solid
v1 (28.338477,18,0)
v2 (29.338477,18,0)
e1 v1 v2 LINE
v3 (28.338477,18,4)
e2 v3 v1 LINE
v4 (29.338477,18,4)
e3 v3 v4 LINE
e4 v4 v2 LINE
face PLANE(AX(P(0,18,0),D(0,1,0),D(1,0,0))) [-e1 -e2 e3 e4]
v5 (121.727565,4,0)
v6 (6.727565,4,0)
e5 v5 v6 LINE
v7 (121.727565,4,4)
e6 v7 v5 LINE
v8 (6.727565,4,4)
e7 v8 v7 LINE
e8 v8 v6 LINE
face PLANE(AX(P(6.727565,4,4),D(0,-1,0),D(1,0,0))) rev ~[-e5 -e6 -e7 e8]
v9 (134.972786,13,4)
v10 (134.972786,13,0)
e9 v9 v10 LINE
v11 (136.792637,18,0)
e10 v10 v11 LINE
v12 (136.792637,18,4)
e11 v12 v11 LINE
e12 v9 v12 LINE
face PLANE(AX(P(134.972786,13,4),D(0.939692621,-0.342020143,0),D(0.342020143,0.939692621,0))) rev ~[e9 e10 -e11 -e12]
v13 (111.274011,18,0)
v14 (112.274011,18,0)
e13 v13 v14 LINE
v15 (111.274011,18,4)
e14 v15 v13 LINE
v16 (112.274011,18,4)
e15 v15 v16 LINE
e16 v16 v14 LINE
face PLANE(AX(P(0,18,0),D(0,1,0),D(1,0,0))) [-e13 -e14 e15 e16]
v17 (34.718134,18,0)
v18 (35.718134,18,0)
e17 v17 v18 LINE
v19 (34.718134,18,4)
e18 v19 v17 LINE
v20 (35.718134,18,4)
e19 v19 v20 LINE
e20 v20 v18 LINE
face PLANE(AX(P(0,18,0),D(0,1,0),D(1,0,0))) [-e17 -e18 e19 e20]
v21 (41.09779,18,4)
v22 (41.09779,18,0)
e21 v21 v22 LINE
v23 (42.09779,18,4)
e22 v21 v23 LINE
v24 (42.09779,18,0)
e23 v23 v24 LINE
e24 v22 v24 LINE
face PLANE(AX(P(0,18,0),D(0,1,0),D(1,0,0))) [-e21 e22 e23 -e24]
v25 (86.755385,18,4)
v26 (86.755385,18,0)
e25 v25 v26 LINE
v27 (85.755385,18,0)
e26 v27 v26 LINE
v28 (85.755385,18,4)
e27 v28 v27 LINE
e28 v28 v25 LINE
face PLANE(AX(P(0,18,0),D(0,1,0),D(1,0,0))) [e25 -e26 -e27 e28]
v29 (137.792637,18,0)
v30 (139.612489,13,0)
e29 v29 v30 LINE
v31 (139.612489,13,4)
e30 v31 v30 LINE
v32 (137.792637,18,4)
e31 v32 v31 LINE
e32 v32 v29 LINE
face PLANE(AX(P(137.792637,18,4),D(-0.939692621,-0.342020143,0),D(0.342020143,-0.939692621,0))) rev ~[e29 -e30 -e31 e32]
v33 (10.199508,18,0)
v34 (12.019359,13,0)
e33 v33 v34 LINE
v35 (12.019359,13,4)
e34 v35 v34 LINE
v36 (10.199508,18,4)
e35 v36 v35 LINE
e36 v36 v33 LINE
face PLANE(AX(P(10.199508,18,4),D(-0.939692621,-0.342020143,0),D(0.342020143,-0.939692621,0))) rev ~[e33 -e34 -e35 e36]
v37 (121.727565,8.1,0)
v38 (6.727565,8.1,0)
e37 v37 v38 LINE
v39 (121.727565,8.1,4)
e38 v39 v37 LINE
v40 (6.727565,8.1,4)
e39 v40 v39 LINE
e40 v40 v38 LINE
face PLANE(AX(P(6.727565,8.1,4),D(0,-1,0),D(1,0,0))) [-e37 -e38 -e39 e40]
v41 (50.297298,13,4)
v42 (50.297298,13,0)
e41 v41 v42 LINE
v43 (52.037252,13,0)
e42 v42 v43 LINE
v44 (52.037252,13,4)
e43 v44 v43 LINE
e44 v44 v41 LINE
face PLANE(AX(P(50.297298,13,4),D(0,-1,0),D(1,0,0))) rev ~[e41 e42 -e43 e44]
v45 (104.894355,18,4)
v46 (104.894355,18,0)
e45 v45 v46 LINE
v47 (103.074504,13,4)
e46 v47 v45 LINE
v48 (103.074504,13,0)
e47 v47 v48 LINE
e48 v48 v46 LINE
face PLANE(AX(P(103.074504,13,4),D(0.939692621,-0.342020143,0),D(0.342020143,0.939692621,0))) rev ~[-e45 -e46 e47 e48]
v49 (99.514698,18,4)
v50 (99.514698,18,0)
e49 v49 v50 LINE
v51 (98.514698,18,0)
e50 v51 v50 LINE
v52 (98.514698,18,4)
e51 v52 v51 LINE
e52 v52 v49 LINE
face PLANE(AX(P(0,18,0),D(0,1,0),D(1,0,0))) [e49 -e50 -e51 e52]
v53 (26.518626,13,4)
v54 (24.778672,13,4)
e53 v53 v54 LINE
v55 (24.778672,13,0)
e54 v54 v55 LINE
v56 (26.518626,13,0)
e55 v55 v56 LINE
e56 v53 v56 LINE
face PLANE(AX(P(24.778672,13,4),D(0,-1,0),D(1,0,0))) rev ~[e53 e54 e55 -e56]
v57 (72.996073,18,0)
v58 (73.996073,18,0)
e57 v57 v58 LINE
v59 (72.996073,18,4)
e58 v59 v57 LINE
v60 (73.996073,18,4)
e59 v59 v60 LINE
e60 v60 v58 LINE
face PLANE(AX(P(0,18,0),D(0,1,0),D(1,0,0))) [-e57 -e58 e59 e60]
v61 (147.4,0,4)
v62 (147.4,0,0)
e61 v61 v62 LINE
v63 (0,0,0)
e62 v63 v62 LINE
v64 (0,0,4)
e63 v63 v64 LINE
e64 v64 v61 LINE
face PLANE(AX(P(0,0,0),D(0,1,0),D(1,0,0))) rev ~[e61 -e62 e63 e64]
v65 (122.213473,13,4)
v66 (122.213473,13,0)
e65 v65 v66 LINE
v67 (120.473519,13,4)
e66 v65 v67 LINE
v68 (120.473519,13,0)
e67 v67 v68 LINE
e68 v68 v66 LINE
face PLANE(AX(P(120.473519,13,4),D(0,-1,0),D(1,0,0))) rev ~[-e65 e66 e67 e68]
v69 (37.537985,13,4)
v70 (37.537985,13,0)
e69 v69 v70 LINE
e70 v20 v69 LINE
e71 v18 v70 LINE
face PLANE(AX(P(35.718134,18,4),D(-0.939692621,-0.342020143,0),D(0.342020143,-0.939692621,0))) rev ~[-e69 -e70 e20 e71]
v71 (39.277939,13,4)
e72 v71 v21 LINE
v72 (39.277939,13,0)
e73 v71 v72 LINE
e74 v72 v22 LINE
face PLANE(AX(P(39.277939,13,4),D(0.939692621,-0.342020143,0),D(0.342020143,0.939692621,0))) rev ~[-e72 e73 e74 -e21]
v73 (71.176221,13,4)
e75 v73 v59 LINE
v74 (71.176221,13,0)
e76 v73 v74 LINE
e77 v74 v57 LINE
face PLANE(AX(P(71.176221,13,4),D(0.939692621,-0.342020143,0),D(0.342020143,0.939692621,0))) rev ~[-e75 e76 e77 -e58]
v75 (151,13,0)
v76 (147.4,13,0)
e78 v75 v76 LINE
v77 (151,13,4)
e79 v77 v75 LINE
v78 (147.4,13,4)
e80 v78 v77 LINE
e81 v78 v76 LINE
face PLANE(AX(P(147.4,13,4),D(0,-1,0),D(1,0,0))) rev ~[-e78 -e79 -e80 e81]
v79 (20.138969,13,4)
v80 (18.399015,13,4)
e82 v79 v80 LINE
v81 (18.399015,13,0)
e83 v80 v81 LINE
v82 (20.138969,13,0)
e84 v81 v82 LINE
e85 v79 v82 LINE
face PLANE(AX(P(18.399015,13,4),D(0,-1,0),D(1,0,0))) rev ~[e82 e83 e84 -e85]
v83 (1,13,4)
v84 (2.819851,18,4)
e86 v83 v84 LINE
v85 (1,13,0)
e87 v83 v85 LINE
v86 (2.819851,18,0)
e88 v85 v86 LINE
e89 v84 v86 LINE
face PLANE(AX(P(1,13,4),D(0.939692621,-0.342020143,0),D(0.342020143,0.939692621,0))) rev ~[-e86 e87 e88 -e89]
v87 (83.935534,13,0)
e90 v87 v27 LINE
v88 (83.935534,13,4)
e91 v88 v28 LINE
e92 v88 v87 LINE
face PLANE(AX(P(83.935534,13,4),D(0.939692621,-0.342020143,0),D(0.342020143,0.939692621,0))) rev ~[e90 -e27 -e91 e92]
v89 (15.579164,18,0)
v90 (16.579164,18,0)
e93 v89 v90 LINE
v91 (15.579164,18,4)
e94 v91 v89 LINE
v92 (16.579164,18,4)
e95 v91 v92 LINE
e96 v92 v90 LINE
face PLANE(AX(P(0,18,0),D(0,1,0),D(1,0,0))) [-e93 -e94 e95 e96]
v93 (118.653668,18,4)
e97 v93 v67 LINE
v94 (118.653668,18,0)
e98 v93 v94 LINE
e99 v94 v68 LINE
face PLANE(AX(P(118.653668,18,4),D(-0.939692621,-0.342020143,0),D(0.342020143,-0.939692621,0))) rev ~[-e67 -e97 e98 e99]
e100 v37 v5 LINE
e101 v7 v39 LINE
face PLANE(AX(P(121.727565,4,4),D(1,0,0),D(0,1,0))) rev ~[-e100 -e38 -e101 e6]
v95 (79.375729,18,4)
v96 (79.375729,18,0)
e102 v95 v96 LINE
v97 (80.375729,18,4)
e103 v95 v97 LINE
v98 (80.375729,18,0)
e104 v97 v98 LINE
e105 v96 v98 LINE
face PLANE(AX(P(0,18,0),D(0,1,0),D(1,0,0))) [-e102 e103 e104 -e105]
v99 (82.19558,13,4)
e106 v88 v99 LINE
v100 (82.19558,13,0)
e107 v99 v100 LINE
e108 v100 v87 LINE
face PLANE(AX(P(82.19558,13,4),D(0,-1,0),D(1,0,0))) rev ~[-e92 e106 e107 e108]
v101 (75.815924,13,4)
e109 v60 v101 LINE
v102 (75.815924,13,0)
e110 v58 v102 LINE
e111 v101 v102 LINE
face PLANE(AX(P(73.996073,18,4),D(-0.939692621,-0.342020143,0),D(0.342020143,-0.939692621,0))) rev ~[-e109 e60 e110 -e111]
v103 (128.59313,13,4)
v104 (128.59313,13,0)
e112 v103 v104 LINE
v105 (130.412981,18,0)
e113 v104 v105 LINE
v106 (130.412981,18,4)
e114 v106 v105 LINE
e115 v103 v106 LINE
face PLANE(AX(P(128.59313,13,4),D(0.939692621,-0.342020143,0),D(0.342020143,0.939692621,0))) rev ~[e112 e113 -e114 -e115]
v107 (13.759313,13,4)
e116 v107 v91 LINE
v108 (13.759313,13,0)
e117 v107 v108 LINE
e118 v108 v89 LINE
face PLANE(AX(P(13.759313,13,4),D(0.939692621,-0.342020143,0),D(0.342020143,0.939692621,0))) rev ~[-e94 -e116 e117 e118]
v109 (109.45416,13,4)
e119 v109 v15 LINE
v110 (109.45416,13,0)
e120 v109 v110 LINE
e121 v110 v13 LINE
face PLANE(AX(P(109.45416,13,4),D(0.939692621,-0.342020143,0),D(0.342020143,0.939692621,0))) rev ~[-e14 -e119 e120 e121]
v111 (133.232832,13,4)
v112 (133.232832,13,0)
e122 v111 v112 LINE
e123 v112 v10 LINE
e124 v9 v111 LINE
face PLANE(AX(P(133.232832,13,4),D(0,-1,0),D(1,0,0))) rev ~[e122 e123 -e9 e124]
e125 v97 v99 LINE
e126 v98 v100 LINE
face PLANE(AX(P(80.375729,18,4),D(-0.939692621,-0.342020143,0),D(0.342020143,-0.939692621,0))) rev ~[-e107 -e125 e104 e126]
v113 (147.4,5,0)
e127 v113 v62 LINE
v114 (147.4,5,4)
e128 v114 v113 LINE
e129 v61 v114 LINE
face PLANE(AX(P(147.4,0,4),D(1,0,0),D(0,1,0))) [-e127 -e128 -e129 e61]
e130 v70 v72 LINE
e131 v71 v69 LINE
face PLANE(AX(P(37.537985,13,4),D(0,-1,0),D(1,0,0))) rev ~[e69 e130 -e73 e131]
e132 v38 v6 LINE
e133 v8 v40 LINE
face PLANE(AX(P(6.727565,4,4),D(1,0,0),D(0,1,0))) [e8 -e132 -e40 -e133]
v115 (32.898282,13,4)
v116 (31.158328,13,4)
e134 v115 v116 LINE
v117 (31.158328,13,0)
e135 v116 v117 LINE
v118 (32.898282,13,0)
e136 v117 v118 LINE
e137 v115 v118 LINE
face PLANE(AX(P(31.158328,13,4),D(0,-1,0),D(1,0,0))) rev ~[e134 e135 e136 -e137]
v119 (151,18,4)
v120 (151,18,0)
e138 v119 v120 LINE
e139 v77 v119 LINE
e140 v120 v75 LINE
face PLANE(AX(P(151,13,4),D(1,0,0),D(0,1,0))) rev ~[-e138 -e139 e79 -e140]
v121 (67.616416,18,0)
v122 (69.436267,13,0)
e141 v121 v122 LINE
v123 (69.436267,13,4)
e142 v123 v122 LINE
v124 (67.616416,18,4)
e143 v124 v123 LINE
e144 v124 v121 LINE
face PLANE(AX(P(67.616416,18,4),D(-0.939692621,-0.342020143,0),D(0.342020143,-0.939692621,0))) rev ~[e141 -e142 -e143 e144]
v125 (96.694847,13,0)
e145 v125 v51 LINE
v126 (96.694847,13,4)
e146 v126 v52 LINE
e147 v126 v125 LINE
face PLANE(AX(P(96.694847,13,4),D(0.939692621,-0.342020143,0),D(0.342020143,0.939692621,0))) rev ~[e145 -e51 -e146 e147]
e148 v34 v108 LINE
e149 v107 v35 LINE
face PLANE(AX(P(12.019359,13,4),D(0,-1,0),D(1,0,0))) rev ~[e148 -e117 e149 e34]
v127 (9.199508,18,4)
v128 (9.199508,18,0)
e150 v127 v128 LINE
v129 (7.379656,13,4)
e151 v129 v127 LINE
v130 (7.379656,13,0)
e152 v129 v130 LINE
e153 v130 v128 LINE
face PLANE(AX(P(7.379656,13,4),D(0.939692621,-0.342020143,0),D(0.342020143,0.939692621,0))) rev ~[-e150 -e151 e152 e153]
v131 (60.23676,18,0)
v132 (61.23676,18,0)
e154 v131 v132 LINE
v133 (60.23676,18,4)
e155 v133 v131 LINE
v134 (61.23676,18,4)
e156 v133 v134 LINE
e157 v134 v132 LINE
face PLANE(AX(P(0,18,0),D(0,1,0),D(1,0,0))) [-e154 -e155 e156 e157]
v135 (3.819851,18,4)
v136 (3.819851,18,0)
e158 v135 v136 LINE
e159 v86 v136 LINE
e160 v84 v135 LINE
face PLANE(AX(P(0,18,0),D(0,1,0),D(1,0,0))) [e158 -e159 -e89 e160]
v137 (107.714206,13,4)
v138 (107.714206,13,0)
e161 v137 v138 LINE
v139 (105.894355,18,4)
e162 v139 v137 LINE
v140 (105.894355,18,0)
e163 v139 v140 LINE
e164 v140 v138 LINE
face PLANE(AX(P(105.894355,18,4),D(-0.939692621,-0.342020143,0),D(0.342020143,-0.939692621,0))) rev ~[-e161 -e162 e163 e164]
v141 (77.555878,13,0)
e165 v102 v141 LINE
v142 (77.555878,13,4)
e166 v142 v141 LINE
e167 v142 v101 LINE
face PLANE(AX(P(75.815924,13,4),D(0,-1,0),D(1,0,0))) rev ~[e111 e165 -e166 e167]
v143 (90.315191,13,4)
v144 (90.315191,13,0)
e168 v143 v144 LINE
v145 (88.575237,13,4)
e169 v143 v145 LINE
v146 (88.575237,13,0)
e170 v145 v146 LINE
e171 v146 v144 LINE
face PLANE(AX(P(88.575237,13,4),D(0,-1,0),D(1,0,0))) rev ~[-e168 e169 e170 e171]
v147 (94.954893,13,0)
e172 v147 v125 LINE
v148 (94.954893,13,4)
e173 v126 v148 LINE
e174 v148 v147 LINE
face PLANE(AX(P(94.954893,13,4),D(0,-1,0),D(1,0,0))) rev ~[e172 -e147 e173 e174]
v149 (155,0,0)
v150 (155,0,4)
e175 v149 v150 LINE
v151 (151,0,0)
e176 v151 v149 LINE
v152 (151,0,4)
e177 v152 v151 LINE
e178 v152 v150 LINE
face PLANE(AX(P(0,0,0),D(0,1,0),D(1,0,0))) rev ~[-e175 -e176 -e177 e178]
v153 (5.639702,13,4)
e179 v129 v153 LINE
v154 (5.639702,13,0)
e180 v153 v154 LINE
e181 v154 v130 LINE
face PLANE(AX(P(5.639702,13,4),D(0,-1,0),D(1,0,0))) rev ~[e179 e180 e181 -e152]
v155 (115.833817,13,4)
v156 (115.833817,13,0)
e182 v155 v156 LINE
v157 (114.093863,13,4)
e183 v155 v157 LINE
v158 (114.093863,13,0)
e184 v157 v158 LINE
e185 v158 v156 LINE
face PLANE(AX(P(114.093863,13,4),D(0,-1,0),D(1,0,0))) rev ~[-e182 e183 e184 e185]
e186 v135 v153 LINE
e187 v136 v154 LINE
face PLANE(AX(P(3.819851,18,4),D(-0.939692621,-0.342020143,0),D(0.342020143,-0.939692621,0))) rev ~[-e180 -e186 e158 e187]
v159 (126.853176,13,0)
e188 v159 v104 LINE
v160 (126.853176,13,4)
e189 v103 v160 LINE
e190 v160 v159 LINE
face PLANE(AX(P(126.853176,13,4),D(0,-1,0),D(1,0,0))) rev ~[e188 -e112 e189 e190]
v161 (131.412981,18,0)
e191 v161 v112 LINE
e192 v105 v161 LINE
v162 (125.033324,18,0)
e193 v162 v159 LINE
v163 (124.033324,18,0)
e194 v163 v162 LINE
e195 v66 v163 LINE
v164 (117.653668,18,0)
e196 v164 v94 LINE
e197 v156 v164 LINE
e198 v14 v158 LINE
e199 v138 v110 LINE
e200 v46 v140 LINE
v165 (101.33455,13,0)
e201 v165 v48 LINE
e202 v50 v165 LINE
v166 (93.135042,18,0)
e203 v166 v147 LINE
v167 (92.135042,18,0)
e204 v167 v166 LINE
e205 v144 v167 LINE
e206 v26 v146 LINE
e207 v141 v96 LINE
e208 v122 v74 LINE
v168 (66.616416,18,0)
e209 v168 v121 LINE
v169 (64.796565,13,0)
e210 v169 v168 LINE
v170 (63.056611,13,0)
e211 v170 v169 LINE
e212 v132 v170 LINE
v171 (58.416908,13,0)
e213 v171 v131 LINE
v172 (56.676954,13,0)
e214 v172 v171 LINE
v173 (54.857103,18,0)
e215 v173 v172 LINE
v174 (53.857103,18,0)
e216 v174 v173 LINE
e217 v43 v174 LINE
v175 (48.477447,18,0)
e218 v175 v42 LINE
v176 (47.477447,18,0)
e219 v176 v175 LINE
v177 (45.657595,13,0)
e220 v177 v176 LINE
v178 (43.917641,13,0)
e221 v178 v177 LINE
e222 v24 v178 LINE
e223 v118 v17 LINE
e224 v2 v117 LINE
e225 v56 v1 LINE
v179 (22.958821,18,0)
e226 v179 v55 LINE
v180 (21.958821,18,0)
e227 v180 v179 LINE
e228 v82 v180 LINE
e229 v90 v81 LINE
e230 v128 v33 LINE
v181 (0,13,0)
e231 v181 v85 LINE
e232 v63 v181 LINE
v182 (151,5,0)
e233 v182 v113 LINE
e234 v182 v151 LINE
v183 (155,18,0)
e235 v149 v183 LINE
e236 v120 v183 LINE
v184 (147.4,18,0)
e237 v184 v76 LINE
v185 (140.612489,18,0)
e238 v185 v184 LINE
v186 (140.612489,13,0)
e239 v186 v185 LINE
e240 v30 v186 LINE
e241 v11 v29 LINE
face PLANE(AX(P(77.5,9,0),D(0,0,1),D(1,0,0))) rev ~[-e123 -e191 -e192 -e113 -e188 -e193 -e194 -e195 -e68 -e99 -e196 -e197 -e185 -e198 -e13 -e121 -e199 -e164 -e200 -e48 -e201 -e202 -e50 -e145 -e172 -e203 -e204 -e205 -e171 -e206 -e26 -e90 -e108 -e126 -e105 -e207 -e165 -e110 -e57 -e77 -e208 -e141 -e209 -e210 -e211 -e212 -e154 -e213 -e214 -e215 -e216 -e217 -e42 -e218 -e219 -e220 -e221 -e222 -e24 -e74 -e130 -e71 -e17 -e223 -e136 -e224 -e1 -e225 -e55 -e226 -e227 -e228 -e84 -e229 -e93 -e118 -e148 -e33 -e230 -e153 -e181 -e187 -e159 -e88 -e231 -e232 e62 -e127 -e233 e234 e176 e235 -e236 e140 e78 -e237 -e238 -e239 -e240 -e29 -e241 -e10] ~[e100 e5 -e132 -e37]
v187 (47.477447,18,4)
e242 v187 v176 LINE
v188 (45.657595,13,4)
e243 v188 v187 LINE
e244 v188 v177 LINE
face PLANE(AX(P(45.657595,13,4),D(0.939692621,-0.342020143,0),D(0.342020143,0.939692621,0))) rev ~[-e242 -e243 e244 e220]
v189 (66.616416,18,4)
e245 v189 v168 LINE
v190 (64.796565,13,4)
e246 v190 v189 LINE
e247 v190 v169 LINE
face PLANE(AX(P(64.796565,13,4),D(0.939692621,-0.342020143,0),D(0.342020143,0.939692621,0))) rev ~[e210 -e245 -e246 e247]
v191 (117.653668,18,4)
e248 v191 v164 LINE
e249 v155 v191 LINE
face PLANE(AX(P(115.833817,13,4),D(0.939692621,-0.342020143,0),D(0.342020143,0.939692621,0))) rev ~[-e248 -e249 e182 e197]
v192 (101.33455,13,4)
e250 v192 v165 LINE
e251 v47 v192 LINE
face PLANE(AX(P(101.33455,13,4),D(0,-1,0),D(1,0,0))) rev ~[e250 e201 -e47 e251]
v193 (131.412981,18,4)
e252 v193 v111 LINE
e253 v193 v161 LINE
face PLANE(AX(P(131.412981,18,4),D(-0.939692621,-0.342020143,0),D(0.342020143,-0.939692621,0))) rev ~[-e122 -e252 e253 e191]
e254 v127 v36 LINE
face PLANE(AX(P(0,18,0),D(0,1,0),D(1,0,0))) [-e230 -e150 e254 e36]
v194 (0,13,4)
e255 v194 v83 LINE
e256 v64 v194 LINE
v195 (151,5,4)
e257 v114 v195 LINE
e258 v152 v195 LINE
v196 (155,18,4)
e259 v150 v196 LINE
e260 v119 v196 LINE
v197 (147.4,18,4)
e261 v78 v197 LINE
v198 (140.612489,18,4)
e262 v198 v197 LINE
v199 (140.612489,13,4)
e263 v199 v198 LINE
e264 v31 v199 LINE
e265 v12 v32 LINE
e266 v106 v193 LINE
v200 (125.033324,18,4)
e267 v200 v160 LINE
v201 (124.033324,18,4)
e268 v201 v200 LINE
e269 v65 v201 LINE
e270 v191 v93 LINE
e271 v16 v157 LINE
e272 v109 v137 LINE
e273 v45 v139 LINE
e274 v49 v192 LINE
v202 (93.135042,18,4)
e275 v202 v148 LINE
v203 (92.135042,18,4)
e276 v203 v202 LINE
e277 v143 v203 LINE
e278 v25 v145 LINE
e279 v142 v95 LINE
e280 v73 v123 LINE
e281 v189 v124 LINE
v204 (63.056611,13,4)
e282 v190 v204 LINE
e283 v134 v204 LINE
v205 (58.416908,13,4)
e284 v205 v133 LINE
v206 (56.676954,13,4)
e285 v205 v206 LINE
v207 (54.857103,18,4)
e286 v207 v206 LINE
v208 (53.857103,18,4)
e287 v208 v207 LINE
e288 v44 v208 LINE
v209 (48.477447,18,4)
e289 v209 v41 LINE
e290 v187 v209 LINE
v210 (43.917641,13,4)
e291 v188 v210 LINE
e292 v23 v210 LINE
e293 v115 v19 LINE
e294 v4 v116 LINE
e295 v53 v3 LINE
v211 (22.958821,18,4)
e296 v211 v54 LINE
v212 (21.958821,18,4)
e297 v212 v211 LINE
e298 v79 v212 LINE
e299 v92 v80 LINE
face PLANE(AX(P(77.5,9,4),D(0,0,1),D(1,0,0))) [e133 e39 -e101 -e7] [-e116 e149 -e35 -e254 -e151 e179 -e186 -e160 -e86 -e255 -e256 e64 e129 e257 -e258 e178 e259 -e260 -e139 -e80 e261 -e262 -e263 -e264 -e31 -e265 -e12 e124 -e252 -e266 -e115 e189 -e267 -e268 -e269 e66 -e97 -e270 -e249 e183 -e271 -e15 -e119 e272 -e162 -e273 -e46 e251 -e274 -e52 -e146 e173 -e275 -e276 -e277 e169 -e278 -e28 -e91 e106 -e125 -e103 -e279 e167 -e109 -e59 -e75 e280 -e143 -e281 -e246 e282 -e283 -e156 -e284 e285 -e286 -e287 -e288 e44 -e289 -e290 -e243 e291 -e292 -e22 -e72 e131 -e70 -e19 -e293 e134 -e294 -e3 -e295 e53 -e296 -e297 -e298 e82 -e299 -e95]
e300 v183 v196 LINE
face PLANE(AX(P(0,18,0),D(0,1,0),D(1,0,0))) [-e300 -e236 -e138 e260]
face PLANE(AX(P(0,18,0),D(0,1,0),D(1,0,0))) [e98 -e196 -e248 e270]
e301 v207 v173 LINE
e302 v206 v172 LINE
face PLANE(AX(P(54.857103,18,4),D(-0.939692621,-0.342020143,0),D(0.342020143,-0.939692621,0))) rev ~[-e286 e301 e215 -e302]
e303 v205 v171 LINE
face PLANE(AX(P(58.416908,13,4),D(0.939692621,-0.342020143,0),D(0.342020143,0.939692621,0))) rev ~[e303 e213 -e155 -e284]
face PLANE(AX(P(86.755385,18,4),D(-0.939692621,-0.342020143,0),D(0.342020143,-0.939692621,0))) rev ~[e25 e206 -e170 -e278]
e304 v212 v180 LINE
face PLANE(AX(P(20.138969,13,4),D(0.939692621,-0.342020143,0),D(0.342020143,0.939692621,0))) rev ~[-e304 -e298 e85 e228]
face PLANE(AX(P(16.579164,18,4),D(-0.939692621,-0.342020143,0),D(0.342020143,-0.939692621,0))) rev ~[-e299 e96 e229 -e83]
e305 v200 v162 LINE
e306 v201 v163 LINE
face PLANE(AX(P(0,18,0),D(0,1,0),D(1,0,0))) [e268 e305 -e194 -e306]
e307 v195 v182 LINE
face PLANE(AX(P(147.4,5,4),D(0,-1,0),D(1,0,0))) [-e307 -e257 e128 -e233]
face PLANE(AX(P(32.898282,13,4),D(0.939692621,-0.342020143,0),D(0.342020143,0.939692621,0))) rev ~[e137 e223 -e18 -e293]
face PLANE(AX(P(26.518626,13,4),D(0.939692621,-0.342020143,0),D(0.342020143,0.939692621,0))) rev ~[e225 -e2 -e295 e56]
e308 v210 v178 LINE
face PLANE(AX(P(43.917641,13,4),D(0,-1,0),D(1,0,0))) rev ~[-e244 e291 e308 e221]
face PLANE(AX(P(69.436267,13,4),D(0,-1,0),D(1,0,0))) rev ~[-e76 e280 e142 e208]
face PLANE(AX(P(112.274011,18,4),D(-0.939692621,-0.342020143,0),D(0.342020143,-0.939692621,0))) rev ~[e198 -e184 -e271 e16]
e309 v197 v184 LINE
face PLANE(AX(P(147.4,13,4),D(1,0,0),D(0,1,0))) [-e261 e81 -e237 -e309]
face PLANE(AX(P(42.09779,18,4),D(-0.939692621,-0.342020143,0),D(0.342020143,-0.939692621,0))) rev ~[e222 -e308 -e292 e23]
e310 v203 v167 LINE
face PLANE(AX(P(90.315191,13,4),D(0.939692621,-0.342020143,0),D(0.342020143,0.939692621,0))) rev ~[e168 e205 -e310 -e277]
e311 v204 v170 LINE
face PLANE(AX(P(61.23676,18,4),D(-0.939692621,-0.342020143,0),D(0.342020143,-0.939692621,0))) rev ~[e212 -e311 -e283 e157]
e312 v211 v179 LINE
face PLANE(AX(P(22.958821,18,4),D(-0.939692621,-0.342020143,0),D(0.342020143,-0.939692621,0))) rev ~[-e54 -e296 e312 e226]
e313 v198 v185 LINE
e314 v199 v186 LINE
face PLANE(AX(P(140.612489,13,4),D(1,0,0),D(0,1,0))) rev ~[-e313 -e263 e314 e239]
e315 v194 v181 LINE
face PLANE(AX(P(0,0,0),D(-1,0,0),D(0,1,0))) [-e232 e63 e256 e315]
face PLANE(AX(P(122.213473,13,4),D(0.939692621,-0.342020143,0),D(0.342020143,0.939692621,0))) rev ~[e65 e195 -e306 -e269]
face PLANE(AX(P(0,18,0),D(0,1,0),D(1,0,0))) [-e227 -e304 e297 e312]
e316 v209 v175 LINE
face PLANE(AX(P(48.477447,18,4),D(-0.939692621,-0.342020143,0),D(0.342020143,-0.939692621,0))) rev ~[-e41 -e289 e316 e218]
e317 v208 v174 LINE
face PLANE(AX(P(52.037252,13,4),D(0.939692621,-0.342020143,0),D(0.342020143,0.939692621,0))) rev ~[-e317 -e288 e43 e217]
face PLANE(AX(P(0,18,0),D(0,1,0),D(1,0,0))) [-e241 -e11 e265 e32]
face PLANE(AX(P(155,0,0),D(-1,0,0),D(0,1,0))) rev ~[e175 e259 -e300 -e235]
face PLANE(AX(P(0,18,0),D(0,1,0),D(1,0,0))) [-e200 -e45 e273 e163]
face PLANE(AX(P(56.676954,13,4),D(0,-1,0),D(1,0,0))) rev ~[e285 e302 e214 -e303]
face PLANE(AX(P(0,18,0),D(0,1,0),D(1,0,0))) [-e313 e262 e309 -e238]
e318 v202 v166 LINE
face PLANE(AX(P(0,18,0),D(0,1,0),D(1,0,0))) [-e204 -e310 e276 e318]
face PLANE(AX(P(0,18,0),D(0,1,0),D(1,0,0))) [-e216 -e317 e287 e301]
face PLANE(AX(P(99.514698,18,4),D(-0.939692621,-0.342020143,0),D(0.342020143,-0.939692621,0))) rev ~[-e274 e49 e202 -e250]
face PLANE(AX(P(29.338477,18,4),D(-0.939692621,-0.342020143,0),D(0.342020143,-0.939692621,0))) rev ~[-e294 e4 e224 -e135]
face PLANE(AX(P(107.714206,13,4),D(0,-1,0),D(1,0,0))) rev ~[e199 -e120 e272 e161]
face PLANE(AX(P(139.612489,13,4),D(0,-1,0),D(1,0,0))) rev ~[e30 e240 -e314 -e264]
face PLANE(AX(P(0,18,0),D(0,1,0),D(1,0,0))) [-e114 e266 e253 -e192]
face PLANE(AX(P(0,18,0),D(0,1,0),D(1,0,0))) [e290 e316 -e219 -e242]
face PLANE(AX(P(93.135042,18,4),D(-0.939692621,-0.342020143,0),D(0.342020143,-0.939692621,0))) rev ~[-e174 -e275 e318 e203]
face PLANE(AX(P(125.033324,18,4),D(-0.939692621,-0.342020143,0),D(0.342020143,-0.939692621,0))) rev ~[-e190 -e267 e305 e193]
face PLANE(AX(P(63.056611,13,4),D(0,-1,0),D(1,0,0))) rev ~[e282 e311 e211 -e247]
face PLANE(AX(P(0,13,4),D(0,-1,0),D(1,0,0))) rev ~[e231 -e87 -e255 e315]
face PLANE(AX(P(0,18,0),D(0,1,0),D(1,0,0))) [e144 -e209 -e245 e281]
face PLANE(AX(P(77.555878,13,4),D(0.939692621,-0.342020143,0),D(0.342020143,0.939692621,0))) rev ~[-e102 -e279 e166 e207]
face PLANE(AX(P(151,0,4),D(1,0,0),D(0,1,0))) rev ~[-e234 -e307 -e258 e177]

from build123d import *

# Parameters (mm, degrees)
SKIZZE1_W                       = 155
SKIZZE1_H                       = 18
AUFSATZ_LINEAR_AUSTRAGEN1_DEPTH = 4
SCHNITT_LINEAR_AUSTRAGEN1_DEPTH = 4
LINEARES_MUSTER1_COUNT          = 22
LINEARES_MUSTER1_PITCH          = 6.379656485
SCHNITT_LINEAR_AUSTRAGEN2_REACH = 6
SKIZZE3_W                       = 115
SKIZZE3_H                       = 4.1
SCHNITT_LINEAR_AUSTRAGEN3_REACH = 6
SKIZZE4_W                       = 3.6
SKIZZE4_H                       = 5


with BuildPart() as part:
    # Skizze1 → Aufsatz-Linear austragen1 (new body)
    with BuildSketch(Plane.XY):
        with Locations((77.5, 9)):
            Rectangle(SKIZZE1_W, SKIZZE1_H)
    extrude(amount=AUFSATZ_LINEAR_AUSTRAGEN1_DEPTH)

    # Skizze2 → Schnitt-Linear austragen1 (cut)
    with BuildSketch(Plane.XY.offset(4)):
        Polygon((0, 13), (1, 13), (2.819851171, 18), (0, 18), align=None)
        Polygon((3.819851171, 18), (5.639702343, 13), (6.639702343, 13), (6.639702343, 18), align=None)
    schnitt_linear_austragen1 = extrude(amount=-SCHNITT_LINEAR_AUSTRAGEN1_DEPTH, mode=Mode.SUBTRACT)

    # Lineares Muster1: Schnitt-Linear austragen1 ×22
    with Locations(*[(i * LINEARES_MUSTER1_PITCH, 0, 0) for i in range(1, LINEARES_MUSTER1_COUNT)]):
        add(schnitt_linear_austragen1, mode=Mode.SUBTRACT)

    # Skizze3 → Schnitt-Linear austragen2 (cut, up to next)
    with BuildSketch(Plane.XY.offset(4), mode=Mode.PRIVATE) as schnitt_linear_austragen2_sk1:
        with Locations((64.227564671, 6.05)):
            Rectangle(SKIZZE3_W, SKIZZE3_H)
    schnitt_linear_austragen2_tool1 = extrude(schnitt_linear_austragen2_sk1.sketch, amount=-SCHNITT_LINEAR_AUSTRAGEN2_REACH, mode=Mode.PRIVATE) & part.part
    add(schnitt_linear_austragen2_tool1.solids().sort_by_distance((64.227565, 6.05, 4))[0], mode=Mode.SUBTRACT)

    # Skizze4 → Schnitt-Linear austragen3 (cut, up to next)
    with BuildSketch(Plane.XY.offset(4), mode=Mode.PRIVATE) as schnitt_linear_austragen3_sk1:
        with Locations((149.2, 15.5)):
            Rectangle(SKIZZE4_W, SKIZZE4_H)
    schnitt_linear_austragen3_tool1 = extrude(schnitt_linear_austragen3_sk1.sketch, amount=-SCHNITT_LINEAR_AUSTRAGEN3_REACH, mode=Mode.PRIVATE) & part.part
    add(schnitt_linear_austragen3_tool1.solids().sort_by_distance((149.2, 15.5, 4))[0], mode=Mode.SUBTRACT)
    # Skizze4 → Schnitt-Linear austragen3 (cut, up to next)
    with BuildSketch(Plane.XY.offset(4), mode=Mode.PRIVATE) as schnitt_linear_austragen3_sk2:
        with Locations((149.2, 2.5)):
            Rectangle(SKIZZE4_W, SKIZZE4_H)
    schnitt_linear_austragen3_tool2 = extrude(schnitt_linear_austragen3_sk2.sketch, amount=-SCHNITT_LINEAR_AUSTRAGEN3_REACH, mode=Mode.PRIVATE) & part.part
    add(schnitt_linear_austragen3_tool2.solids().sort_by_distance((149.2, 2.5, 4))[0], mode=Mode.SUBTRACT)


solid = part.part
